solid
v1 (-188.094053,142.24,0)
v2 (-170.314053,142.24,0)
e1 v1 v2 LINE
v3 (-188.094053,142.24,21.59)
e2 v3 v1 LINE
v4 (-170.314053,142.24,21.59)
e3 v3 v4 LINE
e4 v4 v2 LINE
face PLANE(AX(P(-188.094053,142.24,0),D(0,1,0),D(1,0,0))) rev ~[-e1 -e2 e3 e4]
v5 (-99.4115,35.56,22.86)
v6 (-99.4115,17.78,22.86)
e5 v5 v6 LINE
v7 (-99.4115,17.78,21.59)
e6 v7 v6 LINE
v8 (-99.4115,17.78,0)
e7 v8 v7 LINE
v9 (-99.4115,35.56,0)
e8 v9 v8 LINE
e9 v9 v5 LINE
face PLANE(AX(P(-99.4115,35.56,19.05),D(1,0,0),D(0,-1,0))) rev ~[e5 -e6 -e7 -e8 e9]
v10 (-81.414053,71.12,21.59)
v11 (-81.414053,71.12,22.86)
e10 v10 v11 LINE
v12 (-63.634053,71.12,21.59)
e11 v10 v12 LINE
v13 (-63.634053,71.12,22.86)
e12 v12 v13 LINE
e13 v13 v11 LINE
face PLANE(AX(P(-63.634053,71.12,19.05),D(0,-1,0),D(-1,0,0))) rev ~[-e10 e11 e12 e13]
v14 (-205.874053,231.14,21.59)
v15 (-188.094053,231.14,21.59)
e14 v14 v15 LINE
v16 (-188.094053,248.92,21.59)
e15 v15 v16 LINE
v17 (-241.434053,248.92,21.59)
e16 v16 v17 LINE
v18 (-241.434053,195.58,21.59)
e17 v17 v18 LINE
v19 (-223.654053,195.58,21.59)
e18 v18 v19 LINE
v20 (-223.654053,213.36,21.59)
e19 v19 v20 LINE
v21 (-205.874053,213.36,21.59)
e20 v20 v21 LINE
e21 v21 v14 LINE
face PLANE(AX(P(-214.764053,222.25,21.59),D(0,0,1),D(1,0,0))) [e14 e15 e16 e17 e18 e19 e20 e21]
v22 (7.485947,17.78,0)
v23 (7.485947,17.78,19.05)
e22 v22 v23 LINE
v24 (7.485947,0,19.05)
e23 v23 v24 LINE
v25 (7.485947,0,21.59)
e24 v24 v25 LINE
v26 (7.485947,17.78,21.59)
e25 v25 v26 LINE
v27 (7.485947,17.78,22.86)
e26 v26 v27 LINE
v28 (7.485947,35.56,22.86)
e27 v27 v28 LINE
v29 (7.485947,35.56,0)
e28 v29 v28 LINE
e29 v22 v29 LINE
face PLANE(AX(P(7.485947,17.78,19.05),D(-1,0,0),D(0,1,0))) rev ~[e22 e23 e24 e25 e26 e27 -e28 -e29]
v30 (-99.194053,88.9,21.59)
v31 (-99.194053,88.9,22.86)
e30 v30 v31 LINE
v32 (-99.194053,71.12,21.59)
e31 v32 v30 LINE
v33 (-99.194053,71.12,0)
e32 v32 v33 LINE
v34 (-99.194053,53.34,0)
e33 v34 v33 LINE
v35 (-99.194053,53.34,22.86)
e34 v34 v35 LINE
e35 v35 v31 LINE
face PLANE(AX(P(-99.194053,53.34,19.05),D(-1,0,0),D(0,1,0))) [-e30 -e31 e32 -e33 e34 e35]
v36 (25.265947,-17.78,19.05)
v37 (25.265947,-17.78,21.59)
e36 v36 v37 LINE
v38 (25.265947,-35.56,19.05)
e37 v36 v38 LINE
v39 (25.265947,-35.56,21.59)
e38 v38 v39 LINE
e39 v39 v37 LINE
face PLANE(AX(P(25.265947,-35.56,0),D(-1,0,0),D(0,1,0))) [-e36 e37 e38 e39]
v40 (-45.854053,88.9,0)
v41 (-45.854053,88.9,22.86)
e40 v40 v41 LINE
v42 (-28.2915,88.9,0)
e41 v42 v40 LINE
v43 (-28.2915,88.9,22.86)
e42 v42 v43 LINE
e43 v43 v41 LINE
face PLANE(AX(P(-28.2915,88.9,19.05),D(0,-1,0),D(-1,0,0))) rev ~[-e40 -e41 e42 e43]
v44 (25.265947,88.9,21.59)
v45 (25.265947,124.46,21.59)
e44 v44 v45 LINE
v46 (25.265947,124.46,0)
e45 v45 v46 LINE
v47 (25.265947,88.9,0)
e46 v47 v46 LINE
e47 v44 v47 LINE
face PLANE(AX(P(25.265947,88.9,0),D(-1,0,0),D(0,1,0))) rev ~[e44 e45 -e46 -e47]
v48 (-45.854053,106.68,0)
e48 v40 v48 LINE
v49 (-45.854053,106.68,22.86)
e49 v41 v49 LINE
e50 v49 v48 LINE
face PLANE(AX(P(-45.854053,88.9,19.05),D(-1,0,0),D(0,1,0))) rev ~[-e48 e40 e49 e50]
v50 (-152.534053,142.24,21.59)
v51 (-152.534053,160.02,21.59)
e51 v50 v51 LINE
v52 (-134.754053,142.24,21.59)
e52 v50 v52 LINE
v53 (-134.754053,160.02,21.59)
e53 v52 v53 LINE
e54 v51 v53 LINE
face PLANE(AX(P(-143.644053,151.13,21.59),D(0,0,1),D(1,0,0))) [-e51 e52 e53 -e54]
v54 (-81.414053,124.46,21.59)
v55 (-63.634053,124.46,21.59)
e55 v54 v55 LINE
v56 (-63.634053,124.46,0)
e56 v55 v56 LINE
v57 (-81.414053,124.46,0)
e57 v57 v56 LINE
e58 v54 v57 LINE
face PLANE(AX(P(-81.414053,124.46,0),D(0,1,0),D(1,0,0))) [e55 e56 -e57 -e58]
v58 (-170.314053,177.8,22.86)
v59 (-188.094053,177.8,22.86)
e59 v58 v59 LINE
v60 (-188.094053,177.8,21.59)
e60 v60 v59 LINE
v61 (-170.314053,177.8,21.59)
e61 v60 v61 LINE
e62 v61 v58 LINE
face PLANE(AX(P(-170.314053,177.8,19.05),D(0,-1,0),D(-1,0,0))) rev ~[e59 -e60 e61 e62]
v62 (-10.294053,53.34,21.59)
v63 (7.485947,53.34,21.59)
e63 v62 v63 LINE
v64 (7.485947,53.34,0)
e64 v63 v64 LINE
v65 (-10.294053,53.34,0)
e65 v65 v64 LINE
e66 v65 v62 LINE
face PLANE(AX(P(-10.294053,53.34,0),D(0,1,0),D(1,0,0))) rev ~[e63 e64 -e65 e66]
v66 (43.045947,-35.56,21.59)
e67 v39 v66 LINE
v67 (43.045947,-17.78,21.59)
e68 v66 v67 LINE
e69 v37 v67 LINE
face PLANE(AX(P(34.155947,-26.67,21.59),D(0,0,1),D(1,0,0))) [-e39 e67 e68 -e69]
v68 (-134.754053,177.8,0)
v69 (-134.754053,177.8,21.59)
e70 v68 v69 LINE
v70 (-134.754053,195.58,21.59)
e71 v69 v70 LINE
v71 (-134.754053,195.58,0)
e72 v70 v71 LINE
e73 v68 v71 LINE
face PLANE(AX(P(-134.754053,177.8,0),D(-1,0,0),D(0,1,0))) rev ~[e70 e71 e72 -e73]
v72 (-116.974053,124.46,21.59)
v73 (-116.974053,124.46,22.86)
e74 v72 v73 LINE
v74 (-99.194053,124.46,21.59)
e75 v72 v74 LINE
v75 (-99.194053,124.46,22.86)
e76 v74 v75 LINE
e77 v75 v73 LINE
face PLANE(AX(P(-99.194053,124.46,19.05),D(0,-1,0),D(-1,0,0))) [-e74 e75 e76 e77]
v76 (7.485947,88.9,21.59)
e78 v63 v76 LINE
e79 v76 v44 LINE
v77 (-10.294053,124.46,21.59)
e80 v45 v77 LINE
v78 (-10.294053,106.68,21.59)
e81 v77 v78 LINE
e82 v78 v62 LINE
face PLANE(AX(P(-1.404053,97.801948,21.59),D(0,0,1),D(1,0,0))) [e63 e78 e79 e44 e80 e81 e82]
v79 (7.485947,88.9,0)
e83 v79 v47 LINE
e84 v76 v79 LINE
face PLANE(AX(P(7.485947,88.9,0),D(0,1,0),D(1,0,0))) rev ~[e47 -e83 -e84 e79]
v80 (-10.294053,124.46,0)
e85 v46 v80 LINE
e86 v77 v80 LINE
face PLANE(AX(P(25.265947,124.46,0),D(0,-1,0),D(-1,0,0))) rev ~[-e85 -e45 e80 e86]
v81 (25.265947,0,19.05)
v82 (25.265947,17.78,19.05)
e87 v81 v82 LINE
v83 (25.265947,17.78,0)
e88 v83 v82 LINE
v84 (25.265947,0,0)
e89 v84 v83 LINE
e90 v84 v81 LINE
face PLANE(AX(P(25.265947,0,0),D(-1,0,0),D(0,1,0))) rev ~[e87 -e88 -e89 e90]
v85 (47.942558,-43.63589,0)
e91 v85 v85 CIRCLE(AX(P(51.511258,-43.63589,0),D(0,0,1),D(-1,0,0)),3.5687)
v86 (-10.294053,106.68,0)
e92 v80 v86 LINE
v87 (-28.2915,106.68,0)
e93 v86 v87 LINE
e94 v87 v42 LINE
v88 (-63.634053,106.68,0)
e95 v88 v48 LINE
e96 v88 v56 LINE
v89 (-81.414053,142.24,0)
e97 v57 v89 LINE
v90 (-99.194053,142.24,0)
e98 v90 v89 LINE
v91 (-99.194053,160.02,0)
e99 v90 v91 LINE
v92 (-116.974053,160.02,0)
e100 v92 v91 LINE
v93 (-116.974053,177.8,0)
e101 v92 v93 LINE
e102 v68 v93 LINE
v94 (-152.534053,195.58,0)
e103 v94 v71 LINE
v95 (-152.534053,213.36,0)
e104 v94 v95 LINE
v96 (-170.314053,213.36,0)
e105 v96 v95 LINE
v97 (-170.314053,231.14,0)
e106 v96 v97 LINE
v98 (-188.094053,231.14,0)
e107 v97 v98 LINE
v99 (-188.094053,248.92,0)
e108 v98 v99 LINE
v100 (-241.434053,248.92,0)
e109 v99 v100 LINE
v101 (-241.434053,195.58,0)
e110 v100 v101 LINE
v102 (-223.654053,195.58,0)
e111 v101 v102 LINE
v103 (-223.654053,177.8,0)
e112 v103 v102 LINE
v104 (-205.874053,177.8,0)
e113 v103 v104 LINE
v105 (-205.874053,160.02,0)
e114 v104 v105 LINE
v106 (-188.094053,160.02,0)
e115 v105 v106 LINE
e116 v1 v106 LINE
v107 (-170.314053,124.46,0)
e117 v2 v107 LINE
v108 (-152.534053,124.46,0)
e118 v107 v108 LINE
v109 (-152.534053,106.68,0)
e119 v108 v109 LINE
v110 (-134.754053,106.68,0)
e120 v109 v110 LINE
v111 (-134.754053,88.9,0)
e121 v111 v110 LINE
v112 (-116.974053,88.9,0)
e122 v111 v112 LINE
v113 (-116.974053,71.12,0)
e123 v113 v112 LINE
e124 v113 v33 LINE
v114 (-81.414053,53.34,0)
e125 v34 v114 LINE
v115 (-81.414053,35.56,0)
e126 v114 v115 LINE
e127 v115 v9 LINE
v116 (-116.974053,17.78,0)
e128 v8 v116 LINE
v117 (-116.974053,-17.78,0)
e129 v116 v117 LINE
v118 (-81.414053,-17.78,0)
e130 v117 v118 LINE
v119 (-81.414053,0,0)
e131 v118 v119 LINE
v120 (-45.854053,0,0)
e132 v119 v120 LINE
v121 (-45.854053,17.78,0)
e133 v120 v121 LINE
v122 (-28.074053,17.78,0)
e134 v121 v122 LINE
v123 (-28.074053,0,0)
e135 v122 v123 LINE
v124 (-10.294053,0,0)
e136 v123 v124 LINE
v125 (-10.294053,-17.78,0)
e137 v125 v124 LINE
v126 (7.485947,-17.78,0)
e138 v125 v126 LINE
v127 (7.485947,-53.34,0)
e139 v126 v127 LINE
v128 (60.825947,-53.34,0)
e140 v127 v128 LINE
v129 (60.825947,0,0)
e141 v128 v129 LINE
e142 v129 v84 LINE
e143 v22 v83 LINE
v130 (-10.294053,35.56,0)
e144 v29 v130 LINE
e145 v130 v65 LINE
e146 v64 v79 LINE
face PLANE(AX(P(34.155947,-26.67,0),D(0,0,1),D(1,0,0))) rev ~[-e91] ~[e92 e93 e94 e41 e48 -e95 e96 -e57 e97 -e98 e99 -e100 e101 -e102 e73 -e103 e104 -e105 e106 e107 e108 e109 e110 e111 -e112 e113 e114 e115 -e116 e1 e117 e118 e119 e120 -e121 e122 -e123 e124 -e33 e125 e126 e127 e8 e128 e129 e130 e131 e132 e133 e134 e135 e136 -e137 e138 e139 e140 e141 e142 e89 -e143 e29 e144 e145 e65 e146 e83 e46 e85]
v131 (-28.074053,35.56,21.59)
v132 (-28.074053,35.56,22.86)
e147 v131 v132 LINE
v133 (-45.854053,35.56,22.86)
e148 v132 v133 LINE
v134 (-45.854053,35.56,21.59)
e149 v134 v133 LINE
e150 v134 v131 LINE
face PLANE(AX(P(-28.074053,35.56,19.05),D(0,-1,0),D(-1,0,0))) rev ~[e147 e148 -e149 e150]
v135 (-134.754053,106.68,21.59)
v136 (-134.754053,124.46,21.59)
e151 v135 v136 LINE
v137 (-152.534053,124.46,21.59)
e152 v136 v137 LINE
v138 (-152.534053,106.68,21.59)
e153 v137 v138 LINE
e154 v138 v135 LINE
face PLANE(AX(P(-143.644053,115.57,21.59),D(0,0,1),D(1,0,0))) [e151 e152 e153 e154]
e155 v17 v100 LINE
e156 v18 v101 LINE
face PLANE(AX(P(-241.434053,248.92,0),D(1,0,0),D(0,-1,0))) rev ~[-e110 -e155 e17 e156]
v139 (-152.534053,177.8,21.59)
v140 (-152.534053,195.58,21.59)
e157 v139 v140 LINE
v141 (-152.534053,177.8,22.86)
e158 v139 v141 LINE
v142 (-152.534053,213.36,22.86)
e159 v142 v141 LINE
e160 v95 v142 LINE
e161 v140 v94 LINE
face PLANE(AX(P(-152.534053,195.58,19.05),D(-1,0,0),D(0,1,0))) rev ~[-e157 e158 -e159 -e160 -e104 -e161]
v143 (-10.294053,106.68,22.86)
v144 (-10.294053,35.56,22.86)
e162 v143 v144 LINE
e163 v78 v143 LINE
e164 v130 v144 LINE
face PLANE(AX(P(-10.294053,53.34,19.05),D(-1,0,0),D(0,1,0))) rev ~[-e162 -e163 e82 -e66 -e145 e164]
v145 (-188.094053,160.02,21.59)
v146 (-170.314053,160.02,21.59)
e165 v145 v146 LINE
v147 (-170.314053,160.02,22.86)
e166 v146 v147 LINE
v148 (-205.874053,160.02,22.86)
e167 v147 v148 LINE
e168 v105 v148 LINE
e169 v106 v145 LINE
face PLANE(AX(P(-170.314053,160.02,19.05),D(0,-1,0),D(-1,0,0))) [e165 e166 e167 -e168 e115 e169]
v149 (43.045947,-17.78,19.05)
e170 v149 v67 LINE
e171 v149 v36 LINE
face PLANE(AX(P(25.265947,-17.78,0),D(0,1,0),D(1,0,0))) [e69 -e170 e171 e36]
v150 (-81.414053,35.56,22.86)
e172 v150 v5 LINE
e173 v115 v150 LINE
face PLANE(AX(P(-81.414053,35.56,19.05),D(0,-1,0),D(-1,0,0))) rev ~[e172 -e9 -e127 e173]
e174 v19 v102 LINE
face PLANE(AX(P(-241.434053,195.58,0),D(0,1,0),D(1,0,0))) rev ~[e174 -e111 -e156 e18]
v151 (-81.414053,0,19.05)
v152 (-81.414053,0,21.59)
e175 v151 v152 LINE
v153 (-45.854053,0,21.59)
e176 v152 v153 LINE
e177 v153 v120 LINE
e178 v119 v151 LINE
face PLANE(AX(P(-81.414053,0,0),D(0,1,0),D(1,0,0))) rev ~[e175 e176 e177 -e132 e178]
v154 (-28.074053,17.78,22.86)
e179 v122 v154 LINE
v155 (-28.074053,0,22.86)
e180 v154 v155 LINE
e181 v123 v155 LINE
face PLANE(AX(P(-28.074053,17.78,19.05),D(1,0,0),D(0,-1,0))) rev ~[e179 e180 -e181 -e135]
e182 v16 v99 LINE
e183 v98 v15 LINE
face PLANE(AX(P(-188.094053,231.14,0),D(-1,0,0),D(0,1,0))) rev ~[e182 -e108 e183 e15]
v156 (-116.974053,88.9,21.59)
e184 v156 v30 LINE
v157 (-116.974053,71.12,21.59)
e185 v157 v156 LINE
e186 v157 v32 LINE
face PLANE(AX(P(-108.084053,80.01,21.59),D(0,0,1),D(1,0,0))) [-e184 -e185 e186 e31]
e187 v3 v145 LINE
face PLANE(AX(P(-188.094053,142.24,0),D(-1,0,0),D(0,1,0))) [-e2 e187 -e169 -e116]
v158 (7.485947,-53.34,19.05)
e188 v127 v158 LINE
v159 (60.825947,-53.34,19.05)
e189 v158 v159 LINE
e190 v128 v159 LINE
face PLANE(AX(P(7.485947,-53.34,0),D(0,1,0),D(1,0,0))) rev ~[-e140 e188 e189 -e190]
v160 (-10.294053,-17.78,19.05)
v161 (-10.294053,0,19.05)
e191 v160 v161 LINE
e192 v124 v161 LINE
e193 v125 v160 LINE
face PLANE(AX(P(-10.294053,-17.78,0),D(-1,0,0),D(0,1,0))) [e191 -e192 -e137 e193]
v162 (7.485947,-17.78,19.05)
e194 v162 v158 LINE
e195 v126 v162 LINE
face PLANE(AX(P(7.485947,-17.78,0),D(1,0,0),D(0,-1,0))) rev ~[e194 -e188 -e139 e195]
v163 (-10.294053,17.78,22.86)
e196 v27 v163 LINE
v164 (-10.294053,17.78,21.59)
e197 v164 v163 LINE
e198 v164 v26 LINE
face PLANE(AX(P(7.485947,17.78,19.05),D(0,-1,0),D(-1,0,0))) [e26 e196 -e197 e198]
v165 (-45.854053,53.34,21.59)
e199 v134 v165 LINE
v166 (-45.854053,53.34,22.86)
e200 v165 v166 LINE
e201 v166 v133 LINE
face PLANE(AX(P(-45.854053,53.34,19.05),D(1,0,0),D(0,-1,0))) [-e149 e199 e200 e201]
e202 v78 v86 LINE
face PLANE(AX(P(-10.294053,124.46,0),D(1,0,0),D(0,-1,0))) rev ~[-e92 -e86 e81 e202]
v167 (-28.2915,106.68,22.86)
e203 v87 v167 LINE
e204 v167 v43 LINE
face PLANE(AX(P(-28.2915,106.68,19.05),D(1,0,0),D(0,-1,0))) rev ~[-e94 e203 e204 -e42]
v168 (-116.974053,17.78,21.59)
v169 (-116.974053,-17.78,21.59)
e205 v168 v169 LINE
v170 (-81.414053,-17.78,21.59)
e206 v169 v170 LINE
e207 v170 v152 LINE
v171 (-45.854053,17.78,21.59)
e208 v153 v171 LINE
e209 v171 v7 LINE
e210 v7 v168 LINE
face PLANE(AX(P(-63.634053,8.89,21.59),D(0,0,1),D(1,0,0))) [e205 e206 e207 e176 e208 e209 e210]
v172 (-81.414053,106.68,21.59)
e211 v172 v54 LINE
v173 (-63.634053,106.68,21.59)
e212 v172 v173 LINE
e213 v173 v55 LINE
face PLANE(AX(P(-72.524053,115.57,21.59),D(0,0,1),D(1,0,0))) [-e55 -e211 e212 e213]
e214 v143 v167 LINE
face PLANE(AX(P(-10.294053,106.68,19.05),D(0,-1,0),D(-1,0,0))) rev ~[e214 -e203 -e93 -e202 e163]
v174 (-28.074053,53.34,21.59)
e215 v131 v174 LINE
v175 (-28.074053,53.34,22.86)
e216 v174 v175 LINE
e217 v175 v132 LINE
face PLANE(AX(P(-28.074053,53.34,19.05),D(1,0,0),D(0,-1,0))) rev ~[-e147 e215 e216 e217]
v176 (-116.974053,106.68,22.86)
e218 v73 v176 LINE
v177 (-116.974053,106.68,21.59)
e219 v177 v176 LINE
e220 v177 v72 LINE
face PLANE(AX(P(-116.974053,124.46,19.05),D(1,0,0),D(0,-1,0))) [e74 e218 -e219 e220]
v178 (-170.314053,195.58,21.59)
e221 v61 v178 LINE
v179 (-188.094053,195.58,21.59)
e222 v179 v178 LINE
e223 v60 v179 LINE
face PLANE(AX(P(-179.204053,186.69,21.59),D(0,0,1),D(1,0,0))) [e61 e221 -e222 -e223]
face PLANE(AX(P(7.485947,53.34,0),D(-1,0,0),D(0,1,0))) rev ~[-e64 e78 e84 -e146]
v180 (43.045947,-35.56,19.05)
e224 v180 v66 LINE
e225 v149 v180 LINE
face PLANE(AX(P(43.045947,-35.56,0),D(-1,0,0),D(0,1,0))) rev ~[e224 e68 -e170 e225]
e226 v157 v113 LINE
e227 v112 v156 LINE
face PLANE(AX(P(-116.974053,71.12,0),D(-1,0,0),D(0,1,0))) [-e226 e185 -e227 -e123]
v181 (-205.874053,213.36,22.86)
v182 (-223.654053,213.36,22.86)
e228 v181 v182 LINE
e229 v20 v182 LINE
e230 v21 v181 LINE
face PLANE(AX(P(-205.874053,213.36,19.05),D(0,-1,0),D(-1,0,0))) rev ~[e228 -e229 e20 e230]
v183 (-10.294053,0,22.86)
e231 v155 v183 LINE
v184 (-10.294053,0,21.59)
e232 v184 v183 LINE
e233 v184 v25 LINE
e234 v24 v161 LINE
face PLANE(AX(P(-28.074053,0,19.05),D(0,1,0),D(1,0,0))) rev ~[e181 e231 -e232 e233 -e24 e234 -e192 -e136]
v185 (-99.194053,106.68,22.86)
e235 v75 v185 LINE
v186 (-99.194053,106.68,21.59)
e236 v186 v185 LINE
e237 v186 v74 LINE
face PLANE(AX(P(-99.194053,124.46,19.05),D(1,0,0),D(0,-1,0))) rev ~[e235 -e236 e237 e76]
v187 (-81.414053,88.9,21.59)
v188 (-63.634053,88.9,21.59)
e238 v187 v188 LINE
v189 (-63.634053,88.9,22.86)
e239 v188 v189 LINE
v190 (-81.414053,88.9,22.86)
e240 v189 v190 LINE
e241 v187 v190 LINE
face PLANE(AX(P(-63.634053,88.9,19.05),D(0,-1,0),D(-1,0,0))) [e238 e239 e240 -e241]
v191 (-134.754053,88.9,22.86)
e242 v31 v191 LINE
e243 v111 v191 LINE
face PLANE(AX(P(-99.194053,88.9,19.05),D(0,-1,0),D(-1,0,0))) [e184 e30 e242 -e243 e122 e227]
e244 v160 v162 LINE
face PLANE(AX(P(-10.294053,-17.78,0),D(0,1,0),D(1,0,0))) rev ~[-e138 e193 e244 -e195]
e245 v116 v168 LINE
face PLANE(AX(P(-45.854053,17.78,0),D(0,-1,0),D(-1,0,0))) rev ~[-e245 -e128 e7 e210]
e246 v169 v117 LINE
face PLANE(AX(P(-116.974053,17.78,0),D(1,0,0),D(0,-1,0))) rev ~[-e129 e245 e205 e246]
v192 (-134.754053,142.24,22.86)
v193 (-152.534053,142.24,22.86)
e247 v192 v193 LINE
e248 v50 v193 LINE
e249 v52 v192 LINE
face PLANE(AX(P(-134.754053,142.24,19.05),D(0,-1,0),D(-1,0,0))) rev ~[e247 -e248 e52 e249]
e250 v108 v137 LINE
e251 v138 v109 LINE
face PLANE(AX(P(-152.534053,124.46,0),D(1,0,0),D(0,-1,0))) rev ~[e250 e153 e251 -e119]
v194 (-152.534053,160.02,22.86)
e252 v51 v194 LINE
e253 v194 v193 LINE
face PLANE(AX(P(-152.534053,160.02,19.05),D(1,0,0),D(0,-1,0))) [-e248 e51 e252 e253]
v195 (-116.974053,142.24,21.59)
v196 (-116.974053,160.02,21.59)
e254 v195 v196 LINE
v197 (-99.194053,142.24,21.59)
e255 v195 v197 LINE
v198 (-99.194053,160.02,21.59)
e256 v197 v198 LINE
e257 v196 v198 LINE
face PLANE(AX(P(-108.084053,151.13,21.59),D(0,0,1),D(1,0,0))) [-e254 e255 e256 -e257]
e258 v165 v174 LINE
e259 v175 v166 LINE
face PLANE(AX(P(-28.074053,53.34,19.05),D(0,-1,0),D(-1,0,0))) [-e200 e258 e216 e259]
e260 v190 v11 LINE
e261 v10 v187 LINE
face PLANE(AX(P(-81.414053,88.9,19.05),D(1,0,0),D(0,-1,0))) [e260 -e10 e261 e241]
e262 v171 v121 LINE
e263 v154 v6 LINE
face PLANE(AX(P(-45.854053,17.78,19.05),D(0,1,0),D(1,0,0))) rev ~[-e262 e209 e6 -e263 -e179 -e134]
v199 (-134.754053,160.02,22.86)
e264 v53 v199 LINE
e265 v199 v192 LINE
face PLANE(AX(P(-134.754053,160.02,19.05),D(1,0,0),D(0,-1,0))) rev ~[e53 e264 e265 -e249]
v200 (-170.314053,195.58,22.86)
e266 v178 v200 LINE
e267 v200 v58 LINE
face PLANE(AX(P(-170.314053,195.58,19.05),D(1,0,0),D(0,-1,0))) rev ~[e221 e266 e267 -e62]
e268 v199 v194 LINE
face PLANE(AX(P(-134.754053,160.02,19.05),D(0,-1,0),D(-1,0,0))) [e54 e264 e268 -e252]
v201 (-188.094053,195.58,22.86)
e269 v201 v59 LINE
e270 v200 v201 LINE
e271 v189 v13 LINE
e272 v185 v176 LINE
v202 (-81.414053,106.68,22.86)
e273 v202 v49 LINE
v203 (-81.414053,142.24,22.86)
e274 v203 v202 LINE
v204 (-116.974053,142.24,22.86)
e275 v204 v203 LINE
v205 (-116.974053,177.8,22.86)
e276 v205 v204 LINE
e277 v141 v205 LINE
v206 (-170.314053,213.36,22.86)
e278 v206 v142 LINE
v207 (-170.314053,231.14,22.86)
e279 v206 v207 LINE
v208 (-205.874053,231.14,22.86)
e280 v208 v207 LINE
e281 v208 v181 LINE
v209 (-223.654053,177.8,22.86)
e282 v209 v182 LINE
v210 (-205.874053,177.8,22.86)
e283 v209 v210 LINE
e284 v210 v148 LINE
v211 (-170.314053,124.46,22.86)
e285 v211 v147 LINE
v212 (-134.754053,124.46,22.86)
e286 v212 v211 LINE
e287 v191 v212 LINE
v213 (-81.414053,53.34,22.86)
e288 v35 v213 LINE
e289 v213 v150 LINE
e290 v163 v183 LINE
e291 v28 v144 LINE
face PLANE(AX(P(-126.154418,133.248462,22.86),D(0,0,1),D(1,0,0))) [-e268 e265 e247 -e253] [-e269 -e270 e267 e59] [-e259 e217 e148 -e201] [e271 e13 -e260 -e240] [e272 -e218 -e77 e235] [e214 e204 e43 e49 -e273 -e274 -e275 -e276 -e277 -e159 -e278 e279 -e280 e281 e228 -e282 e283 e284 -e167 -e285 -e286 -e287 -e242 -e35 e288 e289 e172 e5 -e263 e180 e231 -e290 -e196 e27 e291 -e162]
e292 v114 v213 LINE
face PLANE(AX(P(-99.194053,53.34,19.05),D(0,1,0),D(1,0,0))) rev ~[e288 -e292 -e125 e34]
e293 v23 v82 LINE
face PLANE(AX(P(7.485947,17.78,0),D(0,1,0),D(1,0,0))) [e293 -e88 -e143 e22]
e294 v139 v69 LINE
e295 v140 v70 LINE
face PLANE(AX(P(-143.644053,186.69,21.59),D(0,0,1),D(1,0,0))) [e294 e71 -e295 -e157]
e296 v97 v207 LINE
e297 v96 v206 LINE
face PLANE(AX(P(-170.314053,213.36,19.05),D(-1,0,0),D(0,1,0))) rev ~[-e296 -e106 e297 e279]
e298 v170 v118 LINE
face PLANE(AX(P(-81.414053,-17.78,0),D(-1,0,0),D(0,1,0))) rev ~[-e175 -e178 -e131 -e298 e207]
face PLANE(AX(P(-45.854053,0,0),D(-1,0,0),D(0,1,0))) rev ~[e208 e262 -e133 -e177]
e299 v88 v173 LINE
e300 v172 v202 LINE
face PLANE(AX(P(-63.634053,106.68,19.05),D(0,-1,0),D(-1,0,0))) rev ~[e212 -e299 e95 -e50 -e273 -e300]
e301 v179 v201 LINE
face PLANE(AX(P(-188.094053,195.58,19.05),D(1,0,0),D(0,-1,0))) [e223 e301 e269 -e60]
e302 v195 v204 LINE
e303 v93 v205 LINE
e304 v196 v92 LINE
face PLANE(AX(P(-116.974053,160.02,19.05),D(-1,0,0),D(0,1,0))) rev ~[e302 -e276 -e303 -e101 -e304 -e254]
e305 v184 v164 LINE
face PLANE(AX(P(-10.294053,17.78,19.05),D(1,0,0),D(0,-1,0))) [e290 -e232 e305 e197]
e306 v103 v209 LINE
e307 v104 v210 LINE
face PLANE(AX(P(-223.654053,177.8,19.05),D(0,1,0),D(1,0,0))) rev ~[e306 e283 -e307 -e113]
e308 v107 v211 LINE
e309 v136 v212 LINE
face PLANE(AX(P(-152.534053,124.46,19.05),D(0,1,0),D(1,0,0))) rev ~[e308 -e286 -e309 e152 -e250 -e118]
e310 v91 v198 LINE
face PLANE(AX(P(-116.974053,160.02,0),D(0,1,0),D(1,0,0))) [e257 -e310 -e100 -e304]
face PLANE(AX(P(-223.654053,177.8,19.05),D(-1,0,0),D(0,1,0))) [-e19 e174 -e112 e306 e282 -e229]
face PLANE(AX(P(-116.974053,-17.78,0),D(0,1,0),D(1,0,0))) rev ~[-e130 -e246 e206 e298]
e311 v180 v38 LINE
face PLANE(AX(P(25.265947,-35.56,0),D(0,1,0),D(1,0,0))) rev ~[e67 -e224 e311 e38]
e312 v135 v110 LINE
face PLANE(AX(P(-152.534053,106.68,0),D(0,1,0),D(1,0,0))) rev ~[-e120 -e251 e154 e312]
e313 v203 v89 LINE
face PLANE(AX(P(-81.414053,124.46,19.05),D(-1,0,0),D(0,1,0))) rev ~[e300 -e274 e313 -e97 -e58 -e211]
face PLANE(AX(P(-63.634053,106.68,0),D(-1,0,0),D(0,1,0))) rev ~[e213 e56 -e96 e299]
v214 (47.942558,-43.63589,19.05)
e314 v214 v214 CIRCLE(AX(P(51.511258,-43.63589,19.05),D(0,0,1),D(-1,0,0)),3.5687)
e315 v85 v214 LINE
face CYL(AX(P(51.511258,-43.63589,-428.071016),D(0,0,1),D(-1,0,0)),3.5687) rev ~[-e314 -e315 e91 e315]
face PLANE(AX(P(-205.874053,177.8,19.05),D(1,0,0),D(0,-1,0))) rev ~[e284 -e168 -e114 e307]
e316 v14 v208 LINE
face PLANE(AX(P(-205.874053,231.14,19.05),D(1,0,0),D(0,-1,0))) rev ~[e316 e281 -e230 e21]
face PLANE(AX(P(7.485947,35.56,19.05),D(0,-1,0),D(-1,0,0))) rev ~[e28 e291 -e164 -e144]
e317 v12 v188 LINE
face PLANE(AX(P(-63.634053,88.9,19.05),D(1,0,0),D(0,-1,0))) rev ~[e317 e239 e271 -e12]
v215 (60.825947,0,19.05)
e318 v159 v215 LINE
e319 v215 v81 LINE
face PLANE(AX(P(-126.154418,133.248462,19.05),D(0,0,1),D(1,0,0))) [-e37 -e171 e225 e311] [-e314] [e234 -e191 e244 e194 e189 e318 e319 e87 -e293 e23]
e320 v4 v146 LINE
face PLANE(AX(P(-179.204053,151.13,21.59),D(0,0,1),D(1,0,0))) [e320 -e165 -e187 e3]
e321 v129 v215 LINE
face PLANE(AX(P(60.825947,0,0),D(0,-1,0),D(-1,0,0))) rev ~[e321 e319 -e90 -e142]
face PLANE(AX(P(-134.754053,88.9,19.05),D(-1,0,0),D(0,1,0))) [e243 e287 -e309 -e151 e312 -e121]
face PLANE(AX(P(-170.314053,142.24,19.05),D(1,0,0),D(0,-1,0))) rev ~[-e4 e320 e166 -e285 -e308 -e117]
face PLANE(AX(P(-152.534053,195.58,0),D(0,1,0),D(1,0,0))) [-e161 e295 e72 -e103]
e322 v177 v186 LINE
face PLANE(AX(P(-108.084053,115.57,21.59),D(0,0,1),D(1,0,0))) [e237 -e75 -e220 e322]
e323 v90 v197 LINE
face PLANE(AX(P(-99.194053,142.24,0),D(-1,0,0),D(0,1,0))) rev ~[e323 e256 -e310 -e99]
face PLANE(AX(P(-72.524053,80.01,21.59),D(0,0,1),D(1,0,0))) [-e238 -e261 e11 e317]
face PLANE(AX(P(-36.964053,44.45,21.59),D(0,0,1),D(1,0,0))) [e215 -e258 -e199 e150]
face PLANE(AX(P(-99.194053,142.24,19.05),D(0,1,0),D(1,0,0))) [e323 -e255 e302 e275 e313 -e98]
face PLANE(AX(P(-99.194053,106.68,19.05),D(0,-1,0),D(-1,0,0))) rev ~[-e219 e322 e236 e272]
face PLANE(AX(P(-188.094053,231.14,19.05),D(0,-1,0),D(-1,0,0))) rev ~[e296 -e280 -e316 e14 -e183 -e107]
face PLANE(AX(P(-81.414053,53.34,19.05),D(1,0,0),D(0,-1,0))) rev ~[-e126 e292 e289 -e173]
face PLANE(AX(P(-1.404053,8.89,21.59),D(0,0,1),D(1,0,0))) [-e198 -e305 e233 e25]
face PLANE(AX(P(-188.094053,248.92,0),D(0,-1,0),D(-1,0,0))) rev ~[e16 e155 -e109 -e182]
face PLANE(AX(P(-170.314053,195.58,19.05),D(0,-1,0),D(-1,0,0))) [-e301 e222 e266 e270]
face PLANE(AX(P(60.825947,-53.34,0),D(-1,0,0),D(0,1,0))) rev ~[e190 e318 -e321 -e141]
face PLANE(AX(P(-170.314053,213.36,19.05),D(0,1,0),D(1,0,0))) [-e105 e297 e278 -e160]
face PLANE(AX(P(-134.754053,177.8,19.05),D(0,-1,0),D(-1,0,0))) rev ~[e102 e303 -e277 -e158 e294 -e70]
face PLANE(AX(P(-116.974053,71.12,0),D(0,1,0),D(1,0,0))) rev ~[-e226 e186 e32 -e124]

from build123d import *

# Parameters (mm, degrees)
F0_W     = 17.78
F0_H     = 17.78
F0_W_2   = 35.56
F0_W_3   = 17.9974469995
F0_H_2   = 35.56
F1_DEPTH = 19.05
F2_DEPTH = 21.59
F3_DEPTH = 3.81
F4_D     = 7.1374


with BuildPart() as f1:
    # F0 (on Top) → F1 (new body)
    with BuildSketch(Plane.XY):
        Polygon((-134.7540525866, 124.46), (-134.7540525866, 124.2569237947), (-117.5547838211, 124.2569237947), (-117.5547838211, 142.24), (-134.7540525866, 142.24), align=None)
        with Locations((-161.4240525866, 151.13)):
            Rectangle(F0_W, F0_H)
        with Locations((-63.6340525866, 26.67)):
            Rectangle(F0_W_2, F0_H)
        with Locations((-179.2040525866, 168.91)):
            Rectangle(F0_W, F0_H)
        with Locations((-90.3040525866, 133.35)):
            Rectangle(F0_W, F0_H)
        Polygon((-10.2940525866, 106.68), (-10.2940525866, 88.9), (7.4859474134, 88.9), (7.4859474134, 106.7038958168), (-10.2940525866, 106.7038958168), align=None)
        with Locations((-72.5240525866, 97.79)):
            Rectangle(F0_W, F0_H)
        with Locations((16.3759474134, -8.89)):
            Rectangle(F0_W, F0_H)
        with Locations((-90.4127760863, 26.67)):
            Rectangle(F0_W_3, F0_H)
        with Locations((-72.5240525866, 115.57)):
            Rectangle(F0_W, F0_H)
        with Locations((-19.1840525866, 44.45)):
            Rectangle(F0_W, F0_H)
        with Locations((-143.6440525866, 151.13)):
            Rectangle(F0_W, F0_H)
        with Locations((-143.6440525866, 186.69)):
            Rectangle(F0_W, F0_H)
        with Locations((-108.0840525866, 151.13)):
            Rectangle(F0_W, F0_H)
        with Locations((-1.4040525866, -8.89)):
            Rectangle(F0_W, F0_H)
        Polygon((60.8259474134, 0), (25.2659474134, 0), (25.2659474134, -17.78), (7.4859474134, -17.78), (7.4859474134, -53.34), (60.8259474134, -53.34), align=None)
        with Locations((34.1559474134, -26.67)):
            Rectangle(F0_W, F0_H, mode=Mode.SUBTRACT)
        with Locations((-161.4240525866, 133.35)):
            Rectangle(F0_W, F0_H)
        with Locations((-108.0840525866, 115.57)):
            Rectangle(F0_W, F0_H)
        Polygon((-28.0740525866, 0), (-10.2940525866, 0), (-10.2940525866, 17.78), (7.4859474134, 17.78), (7.4859474134, 35.56), (-10.1443827152, 35.56), (-10.1443827152, 17.9467629641), (-28.0740525866, 17.9467629641), (-28.0740525866, 17.78), align=None)
        with Locations((-90.3040525866, 62.23)):
            Rectangle(F0_W, F0_H)
        with Locations((-161.4240525866, 204.47)):
            Rectangle(F0_W, F0_H)
        Polygon((-10.1443827152, 17.9467629641), (-10.1443827152, 35.56), (-10.2940525866, 35.56), (-28.0740525866, 35.56), (-28.0740525866, 17.9467629641), align=None)
        with Locations((-54.7440525866, 80.01)):
            Rectangle(F0_W, F0_H)
        with Locations((-196.9840525866, 168.91)):
            Rectangle(F0_W, F0_H)
        with Locations((-143.6440525866, 168.91)):
            Rectangle(F0_W, F0_H)
        with Locations((-108.0840525866, 80.01)):
            Rectangle(F0_W, F0_H)
        with Locations((-161.4240525866, 168.91)):
            Rectangle(F0_W, F0_H)
        with Locations((-179.2040525866, 186.69)):
            Rectangle(F0_W, F0_H)
        with Locations((-143.6440525866, 133.35)):
            Rectangle(F0_W, F0_H)
        with Locations((-90.4127760863, 8.89)):
            Rectangle(F0_W_3, F0_H)
        Polygon((-45.8540525866, 17.78), (-28.0740525866, 17.78), (-28.0740525866, 17.9467629641), (-28.0740525866, 35.56), (-45.8540525866, 35.56), align=None)
        with Locations((-54.7440525866, 97.79)):
            Rectangle(F0_W, F0_H)
        with Locations((-72.5240525866, 62.23)):
            Rectangle(F0_W, F0_H)
        with Locations((-196.9840525866, 204.47)):
            Rectangle(F0_W, F0_H)
        with Locations((34.1559474134, -26.67)):
            Rectangle(F0_W, F0_H)
        with Locations((-63.6340525866, 8.89)):
            Rectangle(F0_W_2, F0_H)
        with Locations((-214.7640525866, 222.25)):
            Rectangle(F0_W, F0_H)
        with Locations((-72.5240525866, 80.01)):
            Rectangle(F0_W, F0_H)
        with Locations((-179.2040525866, 222.25)):
            Rectangle(F0_W, F0_H)
        Polygon((-152.5340525866, 106.68), (-134.7540525866, 106.68), (-134.7540525866, 124.2569237947), (-134.7540525866, 124.46), (-152.5340525866, 124.46), align=None)
        with Locations((-161.4240525866, 186.69)):
            Rectangle(F0_W, F0_H)
        with Locations((-1.4040525866, 71.12)):
            Rectangle(F0_W, F0_H_2)
        with Locations((-125.8640525866, 97.79)):
            Rectangle(F0_W, F0_H)
        with Locations((-90.3040525866, 115.57)):
            Rectangle(F0_W, F0_H)
        with Locations((-1.4040525866, 8.89)):
            Rectangle(F0_W, F0_H)
        with Locations((-90.3040525866, 97.79)):
            Rectangle(F0_W, F0_H)
        Polygon((-99.4114995861, 0), (-99.4114995861, 17.78), (-116.9740525866, 17.78), (-116.9740525866, -17.78), (-81.4140525866, -17.78), (-81.4140525866, 0), align=None)
        Polygon((-28.0740525866, 88.9), (-10.2940525866, 88.9), (-10.2940525866, 106.68), (-28.2914995861, 106.68), (-28.2914995861, 88.9), align=None)
        with Locations((-196.9840525866, 222.25)):
            Rectangle(F0_W, F0_H)
        with Locations((-125.8640525866, 168.91)):
            Rectangle(F0_W, F0_H)
        Polygon((-241.4340525866, 195.58), (-223.6540525866, 195.58), (-223.6540525866, 213.36), (-223.6540525866, 231.14), (-205.8740525866, 231.14), (-188.0940525866, 231.14), (-188.0940525866, 248.92), (-223.6540525866, 248.92), (-241.4340525866, 248.92), (-241.4340525866, 231.14), align=None)
        with Locations((-90.3040525866, 80.01)):
            Rectangle(F0_W, F0_H)
        with Locations((-214.7640525866, 204.47)):
            Rectangle(F0_W, F0_H)
        with Locations((-179.2040525866, 204.47)):
            Rectangle(F0_W, F0_H)
        with Locations((-108.0840525866, 97.79)):
            Rectangle(F0_W, F0_H)
        with Locations((-179.2040525866, 151.13)):
            Rectangle(F0_W, F0_H)
        Polygon((7.4859474134, 106.7038958168), (7.4859474134, 88.9), (25.2659474134, 88.9), (25.2659474134, 124.46), (-10.2940525866, 124.46), (-10.2940525866, 106.7038958168), align=None)
        with Locations((-54.7440525866, 62.23)):
            Rectangle(F0_W, F0_H)
        with Locations((-196.9840525866, 186.69)):
            Rectangle(F0_W, F0_H)
        with Locations((-36.9640525866, 44.45)):
            Rectangle(F0_W, F0_H)
        Polygon((-81.4140525866, 35.56), (-45.8540525866, 35.56), (-45.8540525866, 53.34), (-63.6340525866, 53.34), (-81.4140525866, 53.34), align=None)
        Polygon((-45.8540525866, 53.34), (-28.0740525866, 53.34), (-28.0740525866, 88.9), (-28.2914995861, 88.9), (-45.8540525866, 88.9), (-45.8540525866, 71.12), align=None)
        with Locations((-19.1840525866, 71.12)):
            Rectangle(F0_W, F0_H_2)
        Polygon((-117.5547838211, 142.24), (-116.9740525866, 142.24), (-116.9740525866, 160.02), (-134.7540525866, 160.02), (-134.7540525866, 142.24), align=None)
        Polygon((-134.7540525866, 106.68), (-116.9740525866, 106.68), (-116.9740525866, 124.46), (-99.1940525866, 124.46), (-99.1940525866, 142.24), (-116.9740525866, 142.24), (-117.5547838211, 142.24), (-117.5547838211, 124.2569237947), (-134.7540525866, 124.2569237947), align=None)
        with Locations((16.3759474134, 8.89)):
            Rectangle(F0_W, F0_H)
        with Locations((-214.7640525866, 186.69)):
            Rectangle(F0_W, F0_H)
    extrude(amount=F1_DEPTH)

    # F0 (on Top) → F2 (join)
    with BuildSketch(Plane.XY):
        with Locations((34.1559474134, -26.67)):
            Rectangle(F0_W, F0_H)
        with Locations((-1.4040525866, 8.89)):
            Rectangle(F0_W, F0_H)
        with Locations((-36.9640525866, 44.45)):
            Rectangle(F0_W, F0_H)
        Polygon((-10.2940525866, 106.68), (-10.2940525866, 88.9), (7.4859474134, 88.9), (7.4859474134, 106.7038958168), (-10.2940525866, 106.7038958168), align=None)
        Polygon((7.4859474134, 106.7038958168), (7.4859474134, 88.9), (25.2659474134, 88.9), (25.2659474134, 124.46), (-10.2940525866, 124.46), (-10.2940525866, 106.7038958168), align=None)
        with Locations((-1.4040525866, 71.12)):
            Rectangle(F0_W, F0_H_2)
        with Locations((-63.6340525866, 8.89)):
            Rectangle(F0_W_2, F0_H)
        Polygon((-99.4114995861, 0), (-99.4114995861, 17.78), (-116.9740525866, 17.78), (-116.9740525866, -17.78), (-81.4140525866, -17.78), (-81.4140525866, 0), align=None)
        with Locations((-90.4127760863, 8.89)):
            Rectangle(F0_W_3, F0_H)
        with Locations((-72.5240525866, 80.01)):
            Rectangle(F0_W, F0_H)
        with Locations((-108.0840525866, 115.57)):
            Rectangle(F0_W, F0_H)
        with Locations((-143.6440525866, 151.13)):
            Rectangle(F0_W, F0_H)
        with Locations((-179.2040525866, 186.69)):
            Rectangle(F0_W, F0_H)
        with Locations((-214.7640525866, 222.25)):
            Rectangle(F0_W, F0_H)
        Polygon((-241.4340525866, 195.58), (-223.6540525866, 195.58), (-223.6540525866, 213.36), (-223.6540525866, 231.14), (-205.8740525866, 231.14), (-188.0940525866, 231.14), (-188.0940525866, 248.92), (-223.6540525866, 248.92), (-241.4340525866, 248.92), (-241.4340525866, 231.14), align=None)
        with Locations((-143.6440525866, 186.69)):
            Rectangle(F0_W, F0_H)
        with Locations((-179.2040525866, 151.13)):
            Rectangle(F0_W, F0_H)
        with Locations((-108.0840525866, 151.13)):
            Rectangle(F0_W, F0_H)
        Polygon((-152.5340525866, 106.68), (-134.7540525866, 106.68), (-134.7540525866, 124.2569237947), (-134.7540525866, 124.46), (-152.5340525866, 124.46), align=None)
        with Locations((-72.5240525866, 115.57)):
            Rectangle(F0_W, F0_H)
        with Locations((-108.0840525866, 80.01)):
            Rectangle(F0_W, F0_H)
    extrude(amount=F2_DEPTH)

    # F3 (add): a face of the model
    f3_faces = [f1.faces().sort_by_distance(p)[0] for p in [
        (-90.3040525866, 138.9711867719, 19.05),
    ]]
    extrude(f3_faces, amount=F3_DEPTH)

    # F4 (through all)
    with Locations(Plane(origin=(0, 0, 0), x_dir=(1, 0, 0), z_dir=(0, 0, -1))):
        with Locations((51.5112578869, 43.6358898878)):
            Hole(F4_D / 2)


solid = f1.part
